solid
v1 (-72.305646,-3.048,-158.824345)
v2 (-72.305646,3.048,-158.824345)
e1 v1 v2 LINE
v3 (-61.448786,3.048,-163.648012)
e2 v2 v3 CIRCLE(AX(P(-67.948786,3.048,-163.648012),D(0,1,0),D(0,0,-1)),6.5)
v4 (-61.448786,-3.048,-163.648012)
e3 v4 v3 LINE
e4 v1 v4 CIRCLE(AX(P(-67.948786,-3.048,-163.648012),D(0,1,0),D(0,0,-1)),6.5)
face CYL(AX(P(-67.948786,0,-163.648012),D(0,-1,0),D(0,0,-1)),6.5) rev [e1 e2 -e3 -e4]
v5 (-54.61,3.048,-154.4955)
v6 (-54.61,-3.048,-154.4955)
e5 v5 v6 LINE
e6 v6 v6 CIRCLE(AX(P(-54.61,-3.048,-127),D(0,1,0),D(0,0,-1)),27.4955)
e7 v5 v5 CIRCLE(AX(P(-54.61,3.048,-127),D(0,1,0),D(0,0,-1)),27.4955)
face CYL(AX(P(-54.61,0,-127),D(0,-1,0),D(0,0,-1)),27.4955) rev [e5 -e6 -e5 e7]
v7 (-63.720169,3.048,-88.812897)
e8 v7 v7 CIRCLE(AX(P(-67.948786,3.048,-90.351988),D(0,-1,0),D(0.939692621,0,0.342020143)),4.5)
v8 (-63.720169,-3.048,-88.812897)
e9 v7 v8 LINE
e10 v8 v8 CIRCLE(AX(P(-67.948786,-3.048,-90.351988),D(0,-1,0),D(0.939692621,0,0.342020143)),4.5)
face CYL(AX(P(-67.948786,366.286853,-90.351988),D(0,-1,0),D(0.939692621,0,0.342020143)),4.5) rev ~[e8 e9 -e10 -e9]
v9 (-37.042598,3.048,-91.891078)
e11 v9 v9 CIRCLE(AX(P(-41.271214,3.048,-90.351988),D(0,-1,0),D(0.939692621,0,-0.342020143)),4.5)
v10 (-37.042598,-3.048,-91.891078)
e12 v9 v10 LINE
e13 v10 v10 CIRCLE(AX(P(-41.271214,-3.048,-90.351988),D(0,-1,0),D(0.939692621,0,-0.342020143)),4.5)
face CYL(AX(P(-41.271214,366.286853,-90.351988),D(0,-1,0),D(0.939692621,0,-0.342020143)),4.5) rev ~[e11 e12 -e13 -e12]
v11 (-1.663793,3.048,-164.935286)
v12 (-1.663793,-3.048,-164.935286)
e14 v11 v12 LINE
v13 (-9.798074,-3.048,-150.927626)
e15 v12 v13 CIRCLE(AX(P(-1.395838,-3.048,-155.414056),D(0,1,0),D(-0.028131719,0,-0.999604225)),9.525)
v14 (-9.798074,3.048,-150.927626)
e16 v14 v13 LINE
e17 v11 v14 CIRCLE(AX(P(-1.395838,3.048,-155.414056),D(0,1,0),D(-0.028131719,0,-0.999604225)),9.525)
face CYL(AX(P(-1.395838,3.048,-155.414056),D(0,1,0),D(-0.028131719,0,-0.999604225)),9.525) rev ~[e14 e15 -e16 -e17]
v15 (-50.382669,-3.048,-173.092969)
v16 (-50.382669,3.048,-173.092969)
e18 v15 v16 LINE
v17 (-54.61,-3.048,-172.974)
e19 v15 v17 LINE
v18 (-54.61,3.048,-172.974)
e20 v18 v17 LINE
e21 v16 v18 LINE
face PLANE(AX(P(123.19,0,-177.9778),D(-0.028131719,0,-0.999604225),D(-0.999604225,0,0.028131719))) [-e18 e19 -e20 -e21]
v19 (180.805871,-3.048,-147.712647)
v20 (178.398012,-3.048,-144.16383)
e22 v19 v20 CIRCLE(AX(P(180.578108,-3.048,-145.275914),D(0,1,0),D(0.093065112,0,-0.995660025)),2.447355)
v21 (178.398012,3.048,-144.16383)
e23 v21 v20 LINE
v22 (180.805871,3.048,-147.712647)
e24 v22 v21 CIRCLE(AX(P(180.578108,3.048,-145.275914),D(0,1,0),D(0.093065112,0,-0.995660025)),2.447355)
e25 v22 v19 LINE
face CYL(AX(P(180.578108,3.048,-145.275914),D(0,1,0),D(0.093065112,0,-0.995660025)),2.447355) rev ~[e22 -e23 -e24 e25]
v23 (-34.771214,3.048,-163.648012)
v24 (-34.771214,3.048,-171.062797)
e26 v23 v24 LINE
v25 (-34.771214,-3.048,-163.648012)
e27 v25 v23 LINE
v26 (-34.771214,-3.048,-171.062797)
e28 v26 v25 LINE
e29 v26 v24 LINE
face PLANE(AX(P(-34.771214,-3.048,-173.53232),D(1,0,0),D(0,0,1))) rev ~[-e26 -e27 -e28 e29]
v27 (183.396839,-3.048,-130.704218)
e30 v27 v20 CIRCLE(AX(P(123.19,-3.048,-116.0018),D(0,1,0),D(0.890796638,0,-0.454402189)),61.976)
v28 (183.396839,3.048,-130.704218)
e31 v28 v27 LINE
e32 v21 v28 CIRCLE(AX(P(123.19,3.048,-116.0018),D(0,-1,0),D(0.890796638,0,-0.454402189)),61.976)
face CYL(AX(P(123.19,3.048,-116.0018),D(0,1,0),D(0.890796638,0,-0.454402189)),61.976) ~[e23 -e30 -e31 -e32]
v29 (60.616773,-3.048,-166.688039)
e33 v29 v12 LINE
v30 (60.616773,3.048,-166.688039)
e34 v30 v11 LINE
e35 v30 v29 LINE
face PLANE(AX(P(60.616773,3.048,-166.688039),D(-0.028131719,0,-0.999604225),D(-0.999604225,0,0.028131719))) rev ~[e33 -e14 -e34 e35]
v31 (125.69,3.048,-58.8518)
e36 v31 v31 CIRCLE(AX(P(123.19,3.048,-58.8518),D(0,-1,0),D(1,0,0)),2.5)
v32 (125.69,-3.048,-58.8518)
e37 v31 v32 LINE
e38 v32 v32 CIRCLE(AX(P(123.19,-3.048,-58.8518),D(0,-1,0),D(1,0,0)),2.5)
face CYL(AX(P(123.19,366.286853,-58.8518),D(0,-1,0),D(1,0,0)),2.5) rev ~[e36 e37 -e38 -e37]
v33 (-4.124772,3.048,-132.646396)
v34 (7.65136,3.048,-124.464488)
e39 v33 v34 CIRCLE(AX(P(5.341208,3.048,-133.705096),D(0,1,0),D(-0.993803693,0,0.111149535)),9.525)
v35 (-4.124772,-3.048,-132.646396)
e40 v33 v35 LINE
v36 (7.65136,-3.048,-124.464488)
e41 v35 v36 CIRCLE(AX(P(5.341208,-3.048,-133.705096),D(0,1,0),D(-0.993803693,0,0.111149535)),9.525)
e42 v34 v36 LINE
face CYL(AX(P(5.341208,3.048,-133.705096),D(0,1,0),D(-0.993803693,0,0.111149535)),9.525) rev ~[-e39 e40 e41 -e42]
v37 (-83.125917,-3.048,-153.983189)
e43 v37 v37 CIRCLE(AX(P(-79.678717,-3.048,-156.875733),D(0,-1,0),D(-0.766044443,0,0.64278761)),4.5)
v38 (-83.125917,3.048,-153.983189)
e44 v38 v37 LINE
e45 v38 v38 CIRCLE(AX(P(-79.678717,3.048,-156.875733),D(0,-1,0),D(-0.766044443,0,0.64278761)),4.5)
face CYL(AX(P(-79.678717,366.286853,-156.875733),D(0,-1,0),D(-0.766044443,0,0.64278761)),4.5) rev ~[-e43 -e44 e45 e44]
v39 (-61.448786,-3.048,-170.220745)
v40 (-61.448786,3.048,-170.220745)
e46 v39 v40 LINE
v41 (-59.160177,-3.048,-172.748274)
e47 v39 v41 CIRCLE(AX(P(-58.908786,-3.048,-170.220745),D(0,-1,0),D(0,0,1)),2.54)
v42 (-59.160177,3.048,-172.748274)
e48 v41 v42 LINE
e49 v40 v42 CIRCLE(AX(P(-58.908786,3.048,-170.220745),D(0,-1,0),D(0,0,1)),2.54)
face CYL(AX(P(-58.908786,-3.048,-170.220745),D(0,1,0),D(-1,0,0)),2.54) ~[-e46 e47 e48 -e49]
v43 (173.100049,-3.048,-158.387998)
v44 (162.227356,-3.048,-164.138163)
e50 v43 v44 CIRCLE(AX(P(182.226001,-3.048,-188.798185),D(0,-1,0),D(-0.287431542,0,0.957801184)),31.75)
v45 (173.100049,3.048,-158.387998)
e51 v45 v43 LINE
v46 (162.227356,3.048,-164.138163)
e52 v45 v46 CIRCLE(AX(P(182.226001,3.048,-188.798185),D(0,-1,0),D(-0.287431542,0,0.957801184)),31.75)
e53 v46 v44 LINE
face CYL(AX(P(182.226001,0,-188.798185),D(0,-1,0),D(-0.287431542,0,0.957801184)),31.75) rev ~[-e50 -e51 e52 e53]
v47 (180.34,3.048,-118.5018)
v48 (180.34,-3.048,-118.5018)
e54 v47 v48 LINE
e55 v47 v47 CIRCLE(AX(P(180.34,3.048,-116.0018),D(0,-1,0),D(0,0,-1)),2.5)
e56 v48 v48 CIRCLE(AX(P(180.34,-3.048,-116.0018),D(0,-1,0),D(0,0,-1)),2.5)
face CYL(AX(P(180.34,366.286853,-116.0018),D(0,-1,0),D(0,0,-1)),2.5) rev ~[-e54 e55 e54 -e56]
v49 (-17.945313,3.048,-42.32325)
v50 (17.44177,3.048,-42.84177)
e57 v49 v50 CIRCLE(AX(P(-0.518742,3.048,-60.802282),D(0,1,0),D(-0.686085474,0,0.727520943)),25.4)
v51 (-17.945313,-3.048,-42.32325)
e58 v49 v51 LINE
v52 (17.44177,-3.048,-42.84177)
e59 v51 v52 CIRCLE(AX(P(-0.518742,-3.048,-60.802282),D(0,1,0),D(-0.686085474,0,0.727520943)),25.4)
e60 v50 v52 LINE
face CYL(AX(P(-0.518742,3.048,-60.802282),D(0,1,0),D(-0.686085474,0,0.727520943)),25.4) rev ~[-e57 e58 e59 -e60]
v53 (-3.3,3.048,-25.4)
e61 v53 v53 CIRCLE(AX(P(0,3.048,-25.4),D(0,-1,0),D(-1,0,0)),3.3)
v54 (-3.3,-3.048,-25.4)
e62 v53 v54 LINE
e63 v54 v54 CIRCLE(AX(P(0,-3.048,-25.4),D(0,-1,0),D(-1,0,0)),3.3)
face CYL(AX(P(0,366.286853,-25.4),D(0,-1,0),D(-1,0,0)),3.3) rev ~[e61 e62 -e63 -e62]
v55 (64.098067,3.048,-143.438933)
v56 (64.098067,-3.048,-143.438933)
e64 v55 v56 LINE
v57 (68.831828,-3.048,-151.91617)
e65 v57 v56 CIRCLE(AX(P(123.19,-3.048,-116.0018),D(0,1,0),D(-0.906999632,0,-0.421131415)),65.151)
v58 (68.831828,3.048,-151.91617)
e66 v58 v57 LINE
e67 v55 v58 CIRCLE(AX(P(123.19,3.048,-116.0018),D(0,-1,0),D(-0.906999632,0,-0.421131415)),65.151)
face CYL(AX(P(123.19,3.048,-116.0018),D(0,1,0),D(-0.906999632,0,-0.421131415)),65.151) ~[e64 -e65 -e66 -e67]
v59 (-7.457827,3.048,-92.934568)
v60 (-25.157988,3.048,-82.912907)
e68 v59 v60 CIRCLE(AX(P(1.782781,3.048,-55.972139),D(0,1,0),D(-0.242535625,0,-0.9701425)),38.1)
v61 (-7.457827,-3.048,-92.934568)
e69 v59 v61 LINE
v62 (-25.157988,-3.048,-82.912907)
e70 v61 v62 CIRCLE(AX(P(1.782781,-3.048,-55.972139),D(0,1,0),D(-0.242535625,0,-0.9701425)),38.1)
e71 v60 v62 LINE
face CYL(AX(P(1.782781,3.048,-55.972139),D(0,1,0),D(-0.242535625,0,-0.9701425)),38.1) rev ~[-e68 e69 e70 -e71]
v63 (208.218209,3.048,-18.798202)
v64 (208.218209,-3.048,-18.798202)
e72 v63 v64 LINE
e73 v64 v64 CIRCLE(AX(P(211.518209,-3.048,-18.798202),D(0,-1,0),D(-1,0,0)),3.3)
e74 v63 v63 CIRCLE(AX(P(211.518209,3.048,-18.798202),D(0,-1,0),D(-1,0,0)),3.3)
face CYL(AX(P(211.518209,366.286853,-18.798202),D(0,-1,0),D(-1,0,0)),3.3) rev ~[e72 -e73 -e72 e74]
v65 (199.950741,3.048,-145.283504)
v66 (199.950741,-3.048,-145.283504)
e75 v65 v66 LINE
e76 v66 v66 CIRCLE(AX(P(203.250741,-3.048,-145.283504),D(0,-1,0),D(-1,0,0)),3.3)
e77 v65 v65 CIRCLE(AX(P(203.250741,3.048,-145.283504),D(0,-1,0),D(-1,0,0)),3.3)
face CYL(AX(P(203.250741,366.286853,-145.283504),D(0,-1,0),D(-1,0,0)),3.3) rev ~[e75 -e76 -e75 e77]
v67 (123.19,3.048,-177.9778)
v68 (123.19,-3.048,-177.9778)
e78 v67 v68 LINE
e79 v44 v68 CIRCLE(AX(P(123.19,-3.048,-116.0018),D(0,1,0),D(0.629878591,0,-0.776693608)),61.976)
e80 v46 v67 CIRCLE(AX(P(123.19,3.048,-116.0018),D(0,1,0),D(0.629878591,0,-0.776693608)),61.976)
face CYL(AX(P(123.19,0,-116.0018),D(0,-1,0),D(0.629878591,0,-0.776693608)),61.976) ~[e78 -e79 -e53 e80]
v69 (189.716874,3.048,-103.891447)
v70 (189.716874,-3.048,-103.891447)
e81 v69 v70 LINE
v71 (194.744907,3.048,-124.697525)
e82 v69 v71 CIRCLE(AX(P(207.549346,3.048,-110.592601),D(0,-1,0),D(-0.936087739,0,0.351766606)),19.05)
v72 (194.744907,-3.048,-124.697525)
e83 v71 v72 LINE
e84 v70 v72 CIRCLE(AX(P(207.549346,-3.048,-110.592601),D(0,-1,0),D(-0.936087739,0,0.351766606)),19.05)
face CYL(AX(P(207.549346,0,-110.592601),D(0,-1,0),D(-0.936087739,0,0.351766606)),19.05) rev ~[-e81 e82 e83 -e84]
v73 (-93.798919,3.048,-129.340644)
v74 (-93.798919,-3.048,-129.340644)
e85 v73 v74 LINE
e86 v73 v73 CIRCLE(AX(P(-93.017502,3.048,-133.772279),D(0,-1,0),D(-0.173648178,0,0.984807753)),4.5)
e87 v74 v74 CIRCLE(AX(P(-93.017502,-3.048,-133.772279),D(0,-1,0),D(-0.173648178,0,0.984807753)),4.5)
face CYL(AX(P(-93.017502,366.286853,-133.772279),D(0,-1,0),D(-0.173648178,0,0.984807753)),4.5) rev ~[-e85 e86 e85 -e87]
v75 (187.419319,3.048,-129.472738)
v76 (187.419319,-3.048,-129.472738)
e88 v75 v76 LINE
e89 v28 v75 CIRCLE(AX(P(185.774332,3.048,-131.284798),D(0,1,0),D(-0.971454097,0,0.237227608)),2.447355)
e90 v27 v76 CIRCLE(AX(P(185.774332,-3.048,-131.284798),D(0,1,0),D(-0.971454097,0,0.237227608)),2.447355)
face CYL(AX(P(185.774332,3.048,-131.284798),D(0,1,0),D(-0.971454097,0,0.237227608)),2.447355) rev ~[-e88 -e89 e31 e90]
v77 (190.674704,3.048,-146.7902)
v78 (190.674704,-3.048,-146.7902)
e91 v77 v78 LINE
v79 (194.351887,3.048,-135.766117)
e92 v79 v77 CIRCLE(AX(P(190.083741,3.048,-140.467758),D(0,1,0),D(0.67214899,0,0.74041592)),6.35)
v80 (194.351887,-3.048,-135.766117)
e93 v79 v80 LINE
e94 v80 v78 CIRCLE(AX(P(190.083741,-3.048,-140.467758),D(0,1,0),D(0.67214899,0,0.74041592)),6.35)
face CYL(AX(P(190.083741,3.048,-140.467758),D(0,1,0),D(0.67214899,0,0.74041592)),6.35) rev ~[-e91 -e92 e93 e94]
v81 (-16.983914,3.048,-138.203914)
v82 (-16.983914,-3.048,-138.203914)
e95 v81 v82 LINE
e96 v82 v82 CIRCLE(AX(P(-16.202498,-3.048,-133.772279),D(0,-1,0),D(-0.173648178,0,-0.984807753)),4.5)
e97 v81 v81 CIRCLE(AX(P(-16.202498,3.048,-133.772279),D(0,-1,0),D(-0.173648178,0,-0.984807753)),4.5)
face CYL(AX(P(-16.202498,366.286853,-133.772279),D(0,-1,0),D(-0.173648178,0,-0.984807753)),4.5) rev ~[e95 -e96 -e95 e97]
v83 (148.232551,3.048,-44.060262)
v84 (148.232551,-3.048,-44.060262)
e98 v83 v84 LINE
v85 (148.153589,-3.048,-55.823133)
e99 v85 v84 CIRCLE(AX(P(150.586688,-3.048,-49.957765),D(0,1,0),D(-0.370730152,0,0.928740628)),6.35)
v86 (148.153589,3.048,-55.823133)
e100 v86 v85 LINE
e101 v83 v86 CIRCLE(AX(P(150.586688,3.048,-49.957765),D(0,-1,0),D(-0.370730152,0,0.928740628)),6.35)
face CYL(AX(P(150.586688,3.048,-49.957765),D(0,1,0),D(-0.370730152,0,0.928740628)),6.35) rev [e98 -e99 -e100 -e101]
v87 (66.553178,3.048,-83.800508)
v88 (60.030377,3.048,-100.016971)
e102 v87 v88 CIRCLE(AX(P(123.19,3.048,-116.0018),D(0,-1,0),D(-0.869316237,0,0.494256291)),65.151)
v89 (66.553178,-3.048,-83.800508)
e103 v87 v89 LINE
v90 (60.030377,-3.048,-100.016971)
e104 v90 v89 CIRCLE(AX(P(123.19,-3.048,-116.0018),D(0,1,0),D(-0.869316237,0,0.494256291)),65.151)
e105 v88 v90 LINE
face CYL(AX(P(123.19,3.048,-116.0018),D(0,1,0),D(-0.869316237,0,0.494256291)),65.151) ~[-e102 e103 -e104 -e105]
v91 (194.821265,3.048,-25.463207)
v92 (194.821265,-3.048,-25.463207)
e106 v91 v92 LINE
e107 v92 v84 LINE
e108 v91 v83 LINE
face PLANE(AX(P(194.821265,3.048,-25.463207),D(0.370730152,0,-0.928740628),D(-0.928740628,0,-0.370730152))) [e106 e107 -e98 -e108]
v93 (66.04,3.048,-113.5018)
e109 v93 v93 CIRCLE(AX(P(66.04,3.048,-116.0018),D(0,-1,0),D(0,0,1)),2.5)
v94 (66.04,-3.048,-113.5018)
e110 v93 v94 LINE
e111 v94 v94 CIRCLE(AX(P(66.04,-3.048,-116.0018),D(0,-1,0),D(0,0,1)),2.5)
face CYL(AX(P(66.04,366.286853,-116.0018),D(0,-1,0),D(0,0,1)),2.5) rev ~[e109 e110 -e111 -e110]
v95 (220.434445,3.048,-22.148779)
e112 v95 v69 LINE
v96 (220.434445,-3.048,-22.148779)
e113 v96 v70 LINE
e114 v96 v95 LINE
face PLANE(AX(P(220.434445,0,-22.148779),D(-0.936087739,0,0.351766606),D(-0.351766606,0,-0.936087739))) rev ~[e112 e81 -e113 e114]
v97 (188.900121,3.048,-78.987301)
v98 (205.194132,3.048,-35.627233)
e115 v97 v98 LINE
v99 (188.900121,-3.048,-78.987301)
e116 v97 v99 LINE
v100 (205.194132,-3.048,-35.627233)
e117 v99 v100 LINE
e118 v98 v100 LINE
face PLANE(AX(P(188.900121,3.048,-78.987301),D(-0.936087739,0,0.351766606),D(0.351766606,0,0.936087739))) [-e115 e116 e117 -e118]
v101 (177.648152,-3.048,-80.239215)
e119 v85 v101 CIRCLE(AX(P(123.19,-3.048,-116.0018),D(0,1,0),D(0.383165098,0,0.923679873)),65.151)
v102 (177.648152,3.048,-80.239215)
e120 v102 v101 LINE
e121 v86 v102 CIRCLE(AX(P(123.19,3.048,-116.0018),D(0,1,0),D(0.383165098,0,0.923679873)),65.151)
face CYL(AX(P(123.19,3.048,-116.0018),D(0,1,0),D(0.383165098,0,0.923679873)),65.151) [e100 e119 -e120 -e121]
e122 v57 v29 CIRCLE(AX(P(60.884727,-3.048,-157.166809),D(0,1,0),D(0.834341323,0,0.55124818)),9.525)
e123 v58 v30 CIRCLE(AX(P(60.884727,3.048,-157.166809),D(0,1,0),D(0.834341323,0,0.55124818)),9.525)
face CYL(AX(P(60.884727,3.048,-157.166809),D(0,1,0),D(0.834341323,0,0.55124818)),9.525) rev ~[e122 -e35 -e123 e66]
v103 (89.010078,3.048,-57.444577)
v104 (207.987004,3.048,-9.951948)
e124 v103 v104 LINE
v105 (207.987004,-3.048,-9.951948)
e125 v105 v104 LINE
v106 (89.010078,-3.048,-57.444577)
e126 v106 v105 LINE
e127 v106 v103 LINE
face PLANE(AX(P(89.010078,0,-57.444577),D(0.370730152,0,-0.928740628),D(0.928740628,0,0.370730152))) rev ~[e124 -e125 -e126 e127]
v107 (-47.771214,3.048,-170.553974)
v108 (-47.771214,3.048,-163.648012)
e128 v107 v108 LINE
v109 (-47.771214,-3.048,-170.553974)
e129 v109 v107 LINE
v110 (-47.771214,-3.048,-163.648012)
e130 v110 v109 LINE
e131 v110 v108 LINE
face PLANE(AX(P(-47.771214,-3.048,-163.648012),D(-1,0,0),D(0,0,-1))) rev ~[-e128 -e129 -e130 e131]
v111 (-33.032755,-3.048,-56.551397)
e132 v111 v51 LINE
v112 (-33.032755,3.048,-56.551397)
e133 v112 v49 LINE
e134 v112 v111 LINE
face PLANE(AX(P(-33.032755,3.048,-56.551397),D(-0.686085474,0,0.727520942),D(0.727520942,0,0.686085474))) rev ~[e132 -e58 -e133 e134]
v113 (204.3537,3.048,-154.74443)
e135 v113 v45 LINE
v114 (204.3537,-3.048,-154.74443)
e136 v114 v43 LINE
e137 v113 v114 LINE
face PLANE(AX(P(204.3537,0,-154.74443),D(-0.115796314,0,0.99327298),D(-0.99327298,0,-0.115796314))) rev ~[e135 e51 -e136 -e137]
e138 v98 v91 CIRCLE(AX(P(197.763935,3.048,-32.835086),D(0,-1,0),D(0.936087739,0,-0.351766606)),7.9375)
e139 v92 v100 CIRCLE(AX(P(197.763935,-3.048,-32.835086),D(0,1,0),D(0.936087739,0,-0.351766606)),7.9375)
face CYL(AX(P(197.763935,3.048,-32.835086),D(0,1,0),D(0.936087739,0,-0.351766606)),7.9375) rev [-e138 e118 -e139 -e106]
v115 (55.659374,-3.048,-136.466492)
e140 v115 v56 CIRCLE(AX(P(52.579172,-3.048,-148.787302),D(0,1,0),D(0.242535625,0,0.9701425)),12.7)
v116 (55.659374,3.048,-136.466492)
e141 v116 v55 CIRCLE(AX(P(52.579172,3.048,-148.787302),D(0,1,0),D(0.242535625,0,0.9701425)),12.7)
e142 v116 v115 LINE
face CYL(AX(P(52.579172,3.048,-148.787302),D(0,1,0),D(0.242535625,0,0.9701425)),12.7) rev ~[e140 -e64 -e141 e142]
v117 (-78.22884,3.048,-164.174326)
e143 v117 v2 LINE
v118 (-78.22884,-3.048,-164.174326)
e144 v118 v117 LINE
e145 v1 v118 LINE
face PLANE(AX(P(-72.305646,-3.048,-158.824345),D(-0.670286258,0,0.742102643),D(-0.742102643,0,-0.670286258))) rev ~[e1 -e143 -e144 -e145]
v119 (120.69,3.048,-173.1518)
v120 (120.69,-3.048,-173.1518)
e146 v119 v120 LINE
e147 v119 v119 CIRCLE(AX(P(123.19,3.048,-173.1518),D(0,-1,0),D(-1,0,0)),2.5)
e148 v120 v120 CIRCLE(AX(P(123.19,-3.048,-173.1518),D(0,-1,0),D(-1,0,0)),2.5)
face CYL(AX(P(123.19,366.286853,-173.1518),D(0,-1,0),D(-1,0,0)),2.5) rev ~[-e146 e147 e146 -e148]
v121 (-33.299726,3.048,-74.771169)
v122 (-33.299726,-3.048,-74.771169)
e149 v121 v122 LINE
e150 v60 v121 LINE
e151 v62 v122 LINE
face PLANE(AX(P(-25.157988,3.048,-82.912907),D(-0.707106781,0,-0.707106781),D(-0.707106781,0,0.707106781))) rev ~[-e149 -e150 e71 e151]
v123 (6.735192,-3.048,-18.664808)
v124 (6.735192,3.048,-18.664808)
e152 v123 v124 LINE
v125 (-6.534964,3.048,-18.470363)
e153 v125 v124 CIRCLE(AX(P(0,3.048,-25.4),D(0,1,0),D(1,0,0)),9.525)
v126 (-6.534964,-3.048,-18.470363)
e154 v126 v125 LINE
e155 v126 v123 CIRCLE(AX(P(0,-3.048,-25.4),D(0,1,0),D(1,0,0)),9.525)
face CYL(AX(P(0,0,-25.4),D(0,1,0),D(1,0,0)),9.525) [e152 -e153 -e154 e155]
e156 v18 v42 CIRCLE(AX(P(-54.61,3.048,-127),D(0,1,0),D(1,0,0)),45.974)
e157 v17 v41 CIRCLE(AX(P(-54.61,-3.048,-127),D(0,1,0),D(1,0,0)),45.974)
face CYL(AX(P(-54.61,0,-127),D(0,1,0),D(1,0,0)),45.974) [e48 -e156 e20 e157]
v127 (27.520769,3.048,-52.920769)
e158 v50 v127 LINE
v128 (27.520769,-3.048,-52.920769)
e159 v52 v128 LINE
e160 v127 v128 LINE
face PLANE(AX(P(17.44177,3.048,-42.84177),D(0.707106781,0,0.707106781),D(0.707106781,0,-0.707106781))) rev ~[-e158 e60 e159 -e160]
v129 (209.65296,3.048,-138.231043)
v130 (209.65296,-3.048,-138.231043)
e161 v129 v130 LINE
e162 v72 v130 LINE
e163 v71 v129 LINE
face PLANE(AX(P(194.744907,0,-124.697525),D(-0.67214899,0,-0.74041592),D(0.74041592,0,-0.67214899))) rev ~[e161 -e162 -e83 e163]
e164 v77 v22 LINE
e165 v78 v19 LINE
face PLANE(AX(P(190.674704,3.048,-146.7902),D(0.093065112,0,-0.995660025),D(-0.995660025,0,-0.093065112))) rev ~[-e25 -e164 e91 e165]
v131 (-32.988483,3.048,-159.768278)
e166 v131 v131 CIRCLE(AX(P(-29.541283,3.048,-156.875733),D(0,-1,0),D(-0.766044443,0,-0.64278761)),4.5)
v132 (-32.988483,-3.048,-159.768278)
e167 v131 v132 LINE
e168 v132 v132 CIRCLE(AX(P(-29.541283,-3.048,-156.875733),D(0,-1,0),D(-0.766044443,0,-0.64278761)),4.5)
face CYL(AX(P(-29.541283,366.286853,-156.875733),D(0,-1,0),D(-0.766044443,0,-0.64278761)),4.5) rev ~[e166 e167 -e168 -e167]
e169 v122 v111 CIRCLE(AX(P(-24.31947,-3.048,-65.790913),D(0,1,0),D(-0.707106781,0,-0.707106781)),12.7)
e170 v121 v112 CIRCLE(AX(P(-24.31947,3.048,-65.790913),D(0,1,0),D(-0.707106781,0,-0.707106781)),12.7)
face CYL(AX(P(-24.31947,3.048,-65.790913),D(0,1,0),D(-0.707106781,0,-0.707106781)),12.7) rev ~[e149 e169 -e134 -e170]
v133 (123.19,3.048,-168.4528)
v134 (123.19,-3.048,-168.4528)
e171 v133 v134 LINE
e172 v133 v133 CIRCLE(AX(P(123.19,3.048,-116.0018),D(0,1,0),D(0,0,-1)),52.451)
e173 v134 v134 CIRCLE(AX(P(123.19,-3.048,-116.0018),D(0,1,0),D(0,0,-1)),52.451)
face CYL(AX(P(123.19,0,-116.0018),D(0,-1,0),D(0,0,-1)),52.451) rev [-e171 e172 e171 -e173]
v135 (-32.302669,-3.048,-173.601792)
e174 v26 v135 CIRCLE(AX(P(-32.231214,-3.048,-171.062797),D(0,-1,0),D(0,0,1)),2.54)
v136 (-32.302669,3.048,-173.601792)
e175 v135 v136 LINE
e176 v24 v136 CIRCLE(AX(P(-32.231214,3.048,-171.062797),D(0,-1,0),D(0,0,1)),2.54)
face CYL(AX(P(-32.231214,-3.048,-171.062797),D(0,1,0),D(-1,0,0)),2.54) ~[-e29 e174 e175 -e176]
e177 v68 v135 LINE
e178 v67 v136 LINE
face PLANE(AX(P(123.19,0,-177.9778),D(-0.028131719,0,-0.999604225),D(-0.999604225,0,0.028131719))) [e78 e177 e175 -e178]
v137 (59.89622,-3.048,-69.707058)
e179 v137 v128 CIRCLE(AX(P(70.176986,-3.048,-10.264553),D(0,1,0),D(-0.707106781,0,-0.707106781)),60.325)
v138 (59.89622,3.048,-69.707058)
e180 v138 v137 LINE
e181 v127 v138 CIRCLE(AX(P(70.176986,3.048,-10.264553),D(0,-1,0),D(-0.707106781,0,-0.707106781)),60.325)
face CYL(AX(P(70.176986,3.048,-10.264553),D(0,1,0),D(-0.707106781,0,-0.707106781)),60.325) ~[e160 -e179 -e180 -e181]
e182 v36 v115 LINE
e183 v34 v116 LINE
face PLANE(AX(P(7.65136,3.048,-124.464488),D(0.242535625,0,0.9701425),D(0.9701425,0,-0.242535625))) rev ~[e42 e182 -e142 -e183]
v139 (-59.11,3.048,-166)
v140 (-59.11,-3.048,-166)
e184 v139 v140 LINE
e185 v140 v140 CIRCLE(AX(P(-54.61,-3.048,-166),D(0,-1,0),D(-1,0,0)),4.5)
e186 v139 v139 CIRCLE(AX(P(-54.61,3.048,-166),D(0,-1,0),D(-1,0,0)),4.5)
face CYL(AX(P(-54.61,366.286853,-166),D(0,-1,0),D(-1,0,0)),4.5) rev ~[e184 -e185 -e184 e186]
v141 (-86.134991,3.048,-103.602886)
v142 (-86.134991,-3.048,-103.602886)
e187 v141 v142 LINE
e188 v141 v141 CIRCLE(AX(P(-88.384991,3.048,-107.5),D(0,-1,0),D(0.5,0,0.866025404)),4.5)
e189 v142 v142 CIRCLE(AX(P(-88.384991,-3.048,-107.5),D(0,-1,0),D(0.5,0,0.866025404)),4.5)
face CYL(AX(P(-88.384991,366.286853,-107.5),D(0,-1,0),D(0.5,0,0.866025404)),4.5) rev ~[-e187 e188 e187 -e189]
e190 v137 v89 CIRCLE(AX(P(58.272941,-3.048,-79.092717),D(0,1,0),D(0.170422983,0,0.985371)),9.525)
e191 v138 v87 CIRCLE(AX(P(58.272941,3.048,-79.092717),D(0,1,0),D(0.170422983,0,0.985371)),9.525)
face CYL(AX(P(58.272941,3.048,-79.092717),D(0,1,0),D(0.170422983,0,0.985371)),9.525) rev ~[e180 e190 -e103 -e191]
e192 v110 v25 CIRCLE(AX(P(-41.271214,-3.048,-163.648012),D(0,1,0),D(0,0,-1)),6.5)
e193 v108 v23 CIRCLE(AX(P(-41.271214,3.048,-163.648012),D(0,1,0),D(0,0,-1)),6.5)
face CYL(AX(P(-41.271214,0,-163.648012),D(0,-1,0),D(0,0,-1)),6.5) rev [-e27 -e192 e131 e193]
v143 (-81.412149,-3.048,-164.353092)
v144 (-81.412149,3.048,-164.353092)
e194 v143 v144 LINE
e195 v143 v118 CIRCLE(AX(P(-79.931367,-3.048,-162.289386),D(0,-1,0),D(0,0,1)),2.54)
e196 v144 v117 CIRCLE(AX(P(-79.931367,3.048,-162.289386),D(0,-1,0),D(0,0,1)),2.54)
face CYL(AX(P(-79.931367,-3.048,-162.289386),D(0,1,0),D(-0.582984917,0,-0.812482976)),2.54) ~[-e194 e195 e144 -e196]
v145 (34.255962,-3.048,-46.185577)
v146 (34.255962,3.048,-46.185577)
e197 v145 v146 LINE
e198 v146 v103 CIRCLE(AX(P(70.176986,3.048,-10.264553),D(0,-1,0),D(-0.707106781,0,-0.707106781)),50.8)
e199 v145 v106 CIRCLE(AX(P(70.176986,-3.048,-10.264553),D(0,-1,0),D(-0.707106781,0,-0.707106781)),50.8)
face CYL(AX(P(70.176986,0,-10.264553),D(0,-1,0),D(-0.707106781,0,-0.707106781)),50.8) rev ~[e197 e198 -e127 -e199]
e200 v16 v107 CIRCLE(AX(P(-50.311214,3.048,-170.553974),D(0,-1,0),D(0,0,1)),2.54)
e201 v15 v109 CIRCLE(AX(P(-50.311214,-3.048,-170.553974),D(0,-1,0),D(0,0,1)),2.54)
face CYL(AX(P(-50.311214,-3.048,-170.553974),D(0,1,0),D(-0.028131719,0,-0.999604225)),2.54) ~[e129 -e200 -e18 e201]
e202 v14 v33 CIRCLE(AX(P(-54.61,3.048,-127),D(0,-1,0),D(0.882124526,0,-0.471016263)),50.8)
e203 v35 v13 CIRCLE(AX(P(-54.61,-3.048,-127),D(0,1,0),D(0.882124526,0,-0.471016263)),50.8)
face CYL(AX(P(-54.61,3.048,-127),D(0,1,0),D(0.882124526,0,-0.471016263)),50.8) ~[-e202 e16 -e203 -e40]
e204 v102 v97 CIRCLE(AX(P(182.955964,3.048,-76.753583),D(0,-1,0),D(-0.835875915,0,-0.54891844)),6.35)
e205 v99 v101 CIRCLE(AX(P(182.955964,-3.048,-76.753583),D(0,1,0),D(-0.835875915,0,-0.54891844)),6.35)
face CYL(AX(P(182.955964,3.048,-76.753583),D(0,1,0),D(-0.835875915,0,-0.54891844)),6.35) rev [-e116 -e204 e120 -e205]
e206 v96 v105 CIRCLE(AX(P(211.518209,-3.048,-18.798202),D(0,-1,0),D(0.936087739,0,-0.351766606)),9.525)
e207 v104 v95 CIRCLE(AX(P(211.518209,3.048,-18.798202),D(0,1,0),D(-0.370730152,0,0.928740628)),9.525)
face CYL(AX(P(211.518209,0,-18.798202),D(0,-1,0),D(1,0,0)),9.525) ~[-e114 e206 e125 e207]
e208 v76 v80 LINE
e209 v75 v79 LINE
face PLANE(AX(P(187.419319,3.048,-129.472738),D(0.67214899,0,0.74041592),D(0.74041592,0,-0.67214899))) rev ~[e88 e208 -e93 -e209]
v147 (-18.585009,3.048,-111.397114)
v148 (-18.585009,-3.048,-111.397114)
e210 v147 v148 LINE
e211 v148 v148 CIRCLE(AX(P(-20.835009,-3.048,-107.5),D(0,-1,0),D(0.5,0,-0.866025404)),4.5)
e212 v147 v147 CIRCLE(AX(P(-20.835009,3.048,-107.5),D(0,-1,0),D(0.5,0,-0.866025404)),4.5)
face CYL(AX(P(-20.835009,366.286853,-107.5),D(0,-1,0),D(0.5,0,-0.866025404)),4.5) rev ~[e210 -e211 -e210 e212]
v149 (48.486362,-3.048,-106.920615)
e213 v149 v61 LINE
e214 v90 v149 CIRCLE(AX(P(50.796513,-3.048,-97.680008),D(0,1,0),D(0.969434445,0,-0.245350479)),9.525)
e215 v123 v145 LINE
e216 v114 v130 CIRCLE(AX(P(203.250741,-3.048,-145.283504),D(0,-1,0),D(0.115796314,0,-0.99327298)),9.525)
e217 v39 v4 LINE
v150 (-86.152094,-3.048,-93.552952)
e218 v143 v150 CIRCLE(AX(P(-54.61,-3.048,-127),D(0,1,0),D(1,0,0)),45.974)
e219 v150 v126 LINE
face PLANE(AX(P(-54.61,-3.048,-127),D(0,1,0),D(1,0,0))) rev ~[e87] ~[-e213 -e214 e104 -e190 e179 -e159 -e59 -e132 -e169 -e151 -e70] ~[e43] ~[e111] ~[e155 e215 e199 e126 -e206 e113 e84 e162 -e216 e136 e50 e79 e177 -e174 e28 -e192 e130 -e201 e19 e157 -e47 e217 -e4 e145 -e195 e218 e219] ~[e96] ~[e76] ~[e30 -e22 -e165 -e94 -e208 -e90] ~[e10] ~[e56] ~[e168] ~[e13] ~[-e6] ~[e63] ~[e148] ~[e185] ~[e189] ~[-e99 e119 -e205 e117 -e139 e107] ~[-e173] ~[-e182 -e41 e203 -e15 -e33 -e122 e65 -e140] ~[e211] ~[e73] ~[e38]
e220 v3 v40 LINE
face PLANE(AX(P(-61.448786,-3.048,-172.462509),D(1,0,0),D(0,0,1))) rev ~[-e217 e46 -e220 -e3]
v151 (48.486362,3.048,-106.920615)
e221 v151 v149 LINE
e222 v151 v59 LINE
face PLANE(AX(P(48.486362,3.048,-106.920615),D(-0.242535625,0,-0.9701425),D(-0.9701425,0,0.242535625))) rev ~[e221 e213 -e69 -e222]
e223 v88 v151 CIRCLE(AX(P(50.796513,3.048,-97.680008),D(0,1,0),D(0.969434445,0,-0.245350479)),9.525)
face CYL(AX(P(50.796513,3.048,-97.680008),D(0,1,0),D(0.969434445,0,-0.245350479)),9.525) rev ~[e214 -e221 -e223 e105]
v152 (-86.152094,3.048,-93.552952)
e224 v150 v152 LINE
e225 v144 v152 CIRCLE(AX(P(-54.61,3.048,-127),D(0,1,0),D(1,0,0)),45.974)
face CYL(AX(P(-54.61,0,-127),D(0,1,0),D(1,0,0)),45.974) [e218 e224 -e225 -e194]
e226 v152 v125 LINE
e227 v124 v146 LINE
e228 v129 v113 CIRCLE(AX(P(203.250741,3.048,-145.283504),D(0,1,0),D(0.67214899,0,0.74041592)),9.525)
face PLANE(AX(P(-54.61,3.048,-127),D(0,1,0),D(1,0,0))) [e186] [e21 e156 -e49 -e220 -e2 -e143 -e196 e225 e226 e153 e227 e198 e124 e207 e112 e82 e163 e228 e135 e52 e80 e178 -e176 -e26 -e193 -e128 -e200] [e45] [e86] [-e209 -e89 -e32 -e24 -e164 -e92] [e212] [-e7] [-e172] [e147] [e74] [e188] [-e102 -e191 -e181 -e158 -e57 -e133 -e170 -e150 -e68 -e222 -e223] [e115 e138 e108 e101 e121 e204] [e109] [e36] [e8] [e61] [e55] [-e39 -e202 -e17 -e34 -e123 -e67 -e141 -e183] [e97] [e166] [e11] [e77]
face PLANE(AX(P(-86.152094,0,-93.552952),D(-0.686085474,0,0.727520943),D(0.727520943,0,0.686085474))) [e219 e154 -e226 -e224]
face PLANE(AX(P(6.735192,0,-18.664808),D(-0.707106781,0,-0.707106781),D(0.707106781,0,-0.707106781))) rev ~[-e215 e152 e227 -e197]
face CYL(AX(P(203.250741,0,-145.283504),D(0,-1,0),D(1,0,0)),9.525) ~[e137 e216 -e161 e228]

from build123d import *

# Parameters (mm, degrees)
MASTER_SKETCH_R       = 52.451
MASTER_SKETCH_R_2     = 9.525
MASTER_SKETCH_R_3     = 45.974
MASTER_SKETCH_R_4     = 27.4955
MASTER_SKETCH_R_5     = 6.5
BOSS_EXTRUDE2_DEPTH   = 3.048
F_5_0MM_DOWEL_HOLE1_D = 5
CIRPATTERN4_COUNT     = 4
M6_CLEARANCE_HOLE4_D  = 6.6
M8_CLEARANCE_HOLE1_D  = 9
CIRPATTERN3_COUNT     = 9
CUT_EXTRUDE2_DEPTH    = 284.854467488
CUT_EXTRUDE3_DEPTH    = 284.854467488
FILLET1_R             = 2.54


with BuildPart() as part:
    # Master Sketch → Boss-Extrude2 (new, symmetric)
    # profile 1 of 5: a face of its own
    with BuildSketch(Plane(origin=(0, 0, 0), x_dir=(1, 0, 0), z_dir=(0, 1, 0))):
        with BuildLine():
            ThreePointArc((-8.636, 127), (-36.396097826, 84.787887478), (-86.152093601, 93.552952189))
            Line((-86.152093601, 93.552952189), (-6.534964144, 18.470363023))
            ThreePointArc((-6.534964144, 18.470363023), (-3.773598517, 34.145603423), (9.525, 25.4))
            ThreePointArc((9.525, 25.4), (8.799952547, 21.754940307), (6.735192091, 18.664807909))
            Line((6.735192091, 18.664807909), (34.255961574, 46.185577392))
            ThreePointArc((34.255961574, 46.185577392), (59.945142207, 60.02346539), (89.010077776, 57.44457682))
            Line((89.010077776, 57.44457682), (207.987004211, 9.951947906))
            ThreePointArc((207.987004211, 9.951947906), (204.851852042, 25.601533276), (220.43444462, 22.148779315))
            Line((220.43444462, 22.148779315), (189.716874265, 103.891447497))
            ThreePointArc((189.716874265, 103.891447497), (189.0323732, 115.067445458), (194.744907427, 124.697524629))
            Line((194.744907427, 124.697524629), (209.652959731, 138.231042786))
            ThreePointArc((209.652959731, 138.231042786), (194.181291125, 142.373055798), (204.353700493, 154.744429565))
            Line((204.353700493, 154.744429565), (173.100049306, 158.387997533))
            ThreePointArc((173.100049306, 158.387997533), (167.382597042, 160.73155253), (162.227355528, 164.138163067))
            ThreePointArc((162.227355528, 164.138163067), (143.898999717, 174.415513345), (123.19, 177.9778))
            Line((123.19, 177.9778), (-54.61, 172.974))
            ThreePointArc((-54.61, 172.974), (-22.101472842, 159.508527158), (-8.636, 127))
        make_face()
        with Locations(Location((123.19, 116.0018, 0), (0, 0, 90))):
            Circle(MASTER_SKETCH_R, mode=Mode.SUBTRACT)
    # profile 2 of 5: a face of its own
    with BuildSketch(Plane(origin=(0, 0, 0), x_dir=(1, 0, 0), z_dir=(0, 1, 0))):
        with Locations((0, 25.4)):
            Circle(MASTER_SKETCH_R_2)
    # profile 3 of 5: a face of its own
    with BuildSketch(Plane(origin=(0, 0, 0), x_dir=(1, 0, 0), z_dir=(0, 1, 0))):
        with Locations((211.518208908, 18.79820239)):
            Circle(MASTER_SKETCH_R_2)
    # profile 4 of 5: a face of its own
    with BuildSketch(Plane(origin=(0, 0, 0), x_dir=(1, 0, 0), z_dir=(0, 1, 0))):
        with Locations((203.2507406, 145.283504427)):
            Circle(MASTER_SKETCH_R_2)
    # profile 5 of 5: a face of its own
    with BuildSketch(Plane(origin=(0, 0, 0), x_dir=(1, 0, 0), z_dir=(0, 1, 0))):
        with Locations((-54.61, 127)):
            Circle(MASTER_SKETCH_R_3)
        with Locations(Location((-54.61, 127, 0), (0, 0, 90))):
            Circle(MASTER_SKETCH_R_4, mode=Mode.SUBTRACT)
        with Locations(Location((-67.94878559, 163.648012211, 0), (0, 0, 90))):
            Circle(MASTER_SKETCH_R_5, mode=Mode.SUBTRACT)
        with Locations(Location((-41.27121441, 163.648012211, 0), (0, 0, 90))):
            Circle(MASTER_SKETCH_R_5, mode=Mode.SUBTRACT)
    extrude(amount=BOSS_EXTRUDE2_DEPTH, both=True)

    # Ø5.0mm Dowel Hole1 (through all)
    with Locations(Plane(origin=(0, 3.048, 0), x_dir=(1, 0, 0), z_dir=(0, 1, 0))):
        with Locations((123.19, 173.1518)):
            f_5_0mm_dowel_hole1 = Hole(F_5_0MM_DOWEL_HOLE1_D / 2)

    # CirPattern4: Ø5.0mm Dowel Hole1 ×4 about axis
    cirpattern4_axis = Axis((123.19, 0, -116.0018), (0, 1, 0))
    for i in range(1, CIRPATTERN4_COUNT):
        add(f_5_0mm_dowel_hole1.rotate(cirpattern4_axis, i * 360 / CIRPATTERN4_COUNT), mode=Mode.SUBTRACT)

    # M6 Clearance Hole4 (through all)
    with Locations(Plane(origin=(0, 3.048, 0), x_dir=(1, 0, 0), z_dir=(0, 1, 0))):
        with Locations((203.2507406, 145.283504427), (211.518208908, 18.79820239), (0, 25.4)):
            Hole(M6_CLEARANCE_HOLE4_D / 2)

    # M8 Clearance Hole1 (through all)
    with Locations(Plane(origin=(0, 3.048, 0), x_dir=(1, 0, 0), z_dir=(0, 1, 0))):
        with Locations((-54.61, 166)):
            m8_clearance_hole1 = Hole(M8_CLEARANCE_HOLE1_D / 2)

    # CirPattern3: M8 Clearance Hole1 ×9 about axis
    cirpattern3_axis = Axis((-54.61, 0, -127), (0, 1, 0))
    for i in range(1, CIRPATTERN3_COUNT):
        add(m8_clearance_hole1.rotate(cirpattern3_axis, i * 360 / CIRPATTERN3_COUNT), mode=Mode.SUBTRACT)

    # Topology 3 → Cut-Extrude2 (cut, through all)
    with BuildSketch(Plane(origin=(0, 3.048, 0), x_dir=(1, 0, 0), z_dir=(0, 1, 0))):
        with BuildLine():
            ThreePointArc((-17.945313453, 42.323250142), (-0.146601343, 35.405008389), (17.44176984, 42.84176984))
            Line((17.44176984, 42.84176984), (27.520769483, 52.920769483))
            ThreePointArc((27.520769483, 52.920769483), (42.409632623, 63.819008448), (59.896219631, 69.707058463))
            ThreePointArc((59.896219631, 69.707058463), (66.885503662, 75.024623751), (66.553177874, 83.800508404))
            ThreePointArc((66.553177874, 83.800508404), (62.745475764, 91.688999032), (60.030376503, 100.016970919))
            ThreePointArc((60.030376503, 100.016970919), (55.6852269, 105.854731176), (48.48636159, 106.920614917))
            Line((48.48636159, 106.920614917), (-7.457826773, 92.934567826))
            ThreePointArc((-7.457826773, 92.934567826), (-16.98904431, 89.126755018), (-25.157987823, 82.912906934))
            Line((-25.157987823, 82.912906934), (-33.299725858, 74.771168898))
            ThreePointArc((-33.299725858, 74.771168898), (-37.018106584, 65.604842248), (-33.032755262, 56.551396808))
            Line((-33.032755262, 56.551396808), (-17.945313453, 42.323250142))
        make_face()
        with BuildLine():
            ThreePointArc((64.098067009, 143.438932802), (66.306808777, 147.765857633), (68.831828447, 151.916170194))
            ThreePointArc((68.831828447, 151.916170194), (69.209050275, 161.796201373), (60.61677272, 166.688039353))
            Line((60.61677272, 166.688039353), (-1.663792567, 164.935286301))
            ThreePointArc((-1.663792567, 164.935286301), (-9.632748017, 160.197249287), (-9.798074059, 150.927626155))
            ThreePointArc((-9.798074059, 150.927626155), (-6.09260405, 142.056636088), (-4.12477238, 132.646396384))
            ThreePointArc((-4.12477238, 132.646396384), (-0.093621954, 125.882803807), (7.651359628, 124.464488392))
            Line((7.651359628, 124.464488392), (55.659374127, 136.466492017))
            ThreePointArc((55.659374127, 136.466492017), (60.668494681, 138.996854714), (64.098067009, 143.438932802))
        make_face()
        with BuildLine():
            ThreePointArc((148.153589294, 55.823132596), (164.735029841, 65.81551406), (177.648151764, 80.239214699))
            ThreePointArc((177.648151764, 80.239214699), (183.658143307, 83.064639882), (188.900120968, 78.987300553))
            Line((188.900120968, 78.987300553), (205.194131764, 35.627233252))
            ThreePointArc((205.194131764, 35.627233252), (203.319232726, 27.16564341), (194.821264757, 25.463207079))
            Line((194.821264757, 25.463207079), (148.232551201, 44.060262413))
            ThreePointArc((148.232551201, 44.060262413), (144.236830733, 49.915140022), (148.153589294, 55.823132596))
        make_face()
        with BuildLine():
            Line((187.419319265, 129.472737786), (194.351886978, 135.766117303))
            ThreePointArc((194.351886978, 135.766117303), (196.107471775, 142.477028469), (190.674704354, 146.790199554))
            Line((190.674704354, 146.790199554), (180.805871382, 147.712647003))
            ThreePointArc((180.805871382, 147.712647003), (178.552910329, 146.650002513), (178.398012452, 144.16383006))
            ThreePointArc((178.398012452, 144.16383006), (181.288513561, 137.579272003), (183.396839106, 130.704218196))
            ThreePointArc((183.396839106, 130.704218196), (185.057898436, 128.944655397), (187.419319265, 129.472737786))
        make_face()
    extrude(amount=-CUT_EXTRUDE2_DEPTH, mode=Mode.SUBTRACT)

    # Sketch29 → Cut-Extrude3 (cut, through all)
    with BuildSketch(Plane.XZ.offset(3.048)):
        with BuildLine():
            Line((-72.305646266, -158.824345033), (-79.713448931, -165.515263569))
            ThreePointArc((-79.713448931, -165.515263569), (-70.954498766, -169.970525201), (-61.44878559, -172.462508594))
            Line((-61.44878559, -172.462508594), (-61.44878559, -163.648012211))
            ThreePointArc((-61.44878559, -163.648012211), (-70.587952655, -169.588112984), (-72.305646266, -158.824345033))
        make_face()
        with BuildLine():
            Line((-47.77121441, -163.648012211), (-47.77121441, -173.166462966))
            Line((-47.77121441, -173.166462966), (-34.77121441, -173.532320109))
            Line((-34.77121441, -173.532320109), (-34.77121441, -163.648012211))
            ThreePointArc((-34.77121441, -163.648012211), (-41.27121441, -170.148012211), (-47.77121441, -163.648012211))
        make_face()
    extrude(amount=-CUT_EXTRUDE3_DEPTH, mode=Mode.SUBTRACT)

    # Fillet1
    fillet1_edges = [part.edges().sort_by_distance(p)[0] for p in [
        (-79.713448931, 0, -165.515263569),
        (-61.44878559, 0, -172.462508594),
        (-47.77121441, 0, -173.166462966),
        (-34.77121441, 0, -173.532320109),
    ]]
    fillet(fillet1_edges, radius=FILLET1_R)


solid = part.part
